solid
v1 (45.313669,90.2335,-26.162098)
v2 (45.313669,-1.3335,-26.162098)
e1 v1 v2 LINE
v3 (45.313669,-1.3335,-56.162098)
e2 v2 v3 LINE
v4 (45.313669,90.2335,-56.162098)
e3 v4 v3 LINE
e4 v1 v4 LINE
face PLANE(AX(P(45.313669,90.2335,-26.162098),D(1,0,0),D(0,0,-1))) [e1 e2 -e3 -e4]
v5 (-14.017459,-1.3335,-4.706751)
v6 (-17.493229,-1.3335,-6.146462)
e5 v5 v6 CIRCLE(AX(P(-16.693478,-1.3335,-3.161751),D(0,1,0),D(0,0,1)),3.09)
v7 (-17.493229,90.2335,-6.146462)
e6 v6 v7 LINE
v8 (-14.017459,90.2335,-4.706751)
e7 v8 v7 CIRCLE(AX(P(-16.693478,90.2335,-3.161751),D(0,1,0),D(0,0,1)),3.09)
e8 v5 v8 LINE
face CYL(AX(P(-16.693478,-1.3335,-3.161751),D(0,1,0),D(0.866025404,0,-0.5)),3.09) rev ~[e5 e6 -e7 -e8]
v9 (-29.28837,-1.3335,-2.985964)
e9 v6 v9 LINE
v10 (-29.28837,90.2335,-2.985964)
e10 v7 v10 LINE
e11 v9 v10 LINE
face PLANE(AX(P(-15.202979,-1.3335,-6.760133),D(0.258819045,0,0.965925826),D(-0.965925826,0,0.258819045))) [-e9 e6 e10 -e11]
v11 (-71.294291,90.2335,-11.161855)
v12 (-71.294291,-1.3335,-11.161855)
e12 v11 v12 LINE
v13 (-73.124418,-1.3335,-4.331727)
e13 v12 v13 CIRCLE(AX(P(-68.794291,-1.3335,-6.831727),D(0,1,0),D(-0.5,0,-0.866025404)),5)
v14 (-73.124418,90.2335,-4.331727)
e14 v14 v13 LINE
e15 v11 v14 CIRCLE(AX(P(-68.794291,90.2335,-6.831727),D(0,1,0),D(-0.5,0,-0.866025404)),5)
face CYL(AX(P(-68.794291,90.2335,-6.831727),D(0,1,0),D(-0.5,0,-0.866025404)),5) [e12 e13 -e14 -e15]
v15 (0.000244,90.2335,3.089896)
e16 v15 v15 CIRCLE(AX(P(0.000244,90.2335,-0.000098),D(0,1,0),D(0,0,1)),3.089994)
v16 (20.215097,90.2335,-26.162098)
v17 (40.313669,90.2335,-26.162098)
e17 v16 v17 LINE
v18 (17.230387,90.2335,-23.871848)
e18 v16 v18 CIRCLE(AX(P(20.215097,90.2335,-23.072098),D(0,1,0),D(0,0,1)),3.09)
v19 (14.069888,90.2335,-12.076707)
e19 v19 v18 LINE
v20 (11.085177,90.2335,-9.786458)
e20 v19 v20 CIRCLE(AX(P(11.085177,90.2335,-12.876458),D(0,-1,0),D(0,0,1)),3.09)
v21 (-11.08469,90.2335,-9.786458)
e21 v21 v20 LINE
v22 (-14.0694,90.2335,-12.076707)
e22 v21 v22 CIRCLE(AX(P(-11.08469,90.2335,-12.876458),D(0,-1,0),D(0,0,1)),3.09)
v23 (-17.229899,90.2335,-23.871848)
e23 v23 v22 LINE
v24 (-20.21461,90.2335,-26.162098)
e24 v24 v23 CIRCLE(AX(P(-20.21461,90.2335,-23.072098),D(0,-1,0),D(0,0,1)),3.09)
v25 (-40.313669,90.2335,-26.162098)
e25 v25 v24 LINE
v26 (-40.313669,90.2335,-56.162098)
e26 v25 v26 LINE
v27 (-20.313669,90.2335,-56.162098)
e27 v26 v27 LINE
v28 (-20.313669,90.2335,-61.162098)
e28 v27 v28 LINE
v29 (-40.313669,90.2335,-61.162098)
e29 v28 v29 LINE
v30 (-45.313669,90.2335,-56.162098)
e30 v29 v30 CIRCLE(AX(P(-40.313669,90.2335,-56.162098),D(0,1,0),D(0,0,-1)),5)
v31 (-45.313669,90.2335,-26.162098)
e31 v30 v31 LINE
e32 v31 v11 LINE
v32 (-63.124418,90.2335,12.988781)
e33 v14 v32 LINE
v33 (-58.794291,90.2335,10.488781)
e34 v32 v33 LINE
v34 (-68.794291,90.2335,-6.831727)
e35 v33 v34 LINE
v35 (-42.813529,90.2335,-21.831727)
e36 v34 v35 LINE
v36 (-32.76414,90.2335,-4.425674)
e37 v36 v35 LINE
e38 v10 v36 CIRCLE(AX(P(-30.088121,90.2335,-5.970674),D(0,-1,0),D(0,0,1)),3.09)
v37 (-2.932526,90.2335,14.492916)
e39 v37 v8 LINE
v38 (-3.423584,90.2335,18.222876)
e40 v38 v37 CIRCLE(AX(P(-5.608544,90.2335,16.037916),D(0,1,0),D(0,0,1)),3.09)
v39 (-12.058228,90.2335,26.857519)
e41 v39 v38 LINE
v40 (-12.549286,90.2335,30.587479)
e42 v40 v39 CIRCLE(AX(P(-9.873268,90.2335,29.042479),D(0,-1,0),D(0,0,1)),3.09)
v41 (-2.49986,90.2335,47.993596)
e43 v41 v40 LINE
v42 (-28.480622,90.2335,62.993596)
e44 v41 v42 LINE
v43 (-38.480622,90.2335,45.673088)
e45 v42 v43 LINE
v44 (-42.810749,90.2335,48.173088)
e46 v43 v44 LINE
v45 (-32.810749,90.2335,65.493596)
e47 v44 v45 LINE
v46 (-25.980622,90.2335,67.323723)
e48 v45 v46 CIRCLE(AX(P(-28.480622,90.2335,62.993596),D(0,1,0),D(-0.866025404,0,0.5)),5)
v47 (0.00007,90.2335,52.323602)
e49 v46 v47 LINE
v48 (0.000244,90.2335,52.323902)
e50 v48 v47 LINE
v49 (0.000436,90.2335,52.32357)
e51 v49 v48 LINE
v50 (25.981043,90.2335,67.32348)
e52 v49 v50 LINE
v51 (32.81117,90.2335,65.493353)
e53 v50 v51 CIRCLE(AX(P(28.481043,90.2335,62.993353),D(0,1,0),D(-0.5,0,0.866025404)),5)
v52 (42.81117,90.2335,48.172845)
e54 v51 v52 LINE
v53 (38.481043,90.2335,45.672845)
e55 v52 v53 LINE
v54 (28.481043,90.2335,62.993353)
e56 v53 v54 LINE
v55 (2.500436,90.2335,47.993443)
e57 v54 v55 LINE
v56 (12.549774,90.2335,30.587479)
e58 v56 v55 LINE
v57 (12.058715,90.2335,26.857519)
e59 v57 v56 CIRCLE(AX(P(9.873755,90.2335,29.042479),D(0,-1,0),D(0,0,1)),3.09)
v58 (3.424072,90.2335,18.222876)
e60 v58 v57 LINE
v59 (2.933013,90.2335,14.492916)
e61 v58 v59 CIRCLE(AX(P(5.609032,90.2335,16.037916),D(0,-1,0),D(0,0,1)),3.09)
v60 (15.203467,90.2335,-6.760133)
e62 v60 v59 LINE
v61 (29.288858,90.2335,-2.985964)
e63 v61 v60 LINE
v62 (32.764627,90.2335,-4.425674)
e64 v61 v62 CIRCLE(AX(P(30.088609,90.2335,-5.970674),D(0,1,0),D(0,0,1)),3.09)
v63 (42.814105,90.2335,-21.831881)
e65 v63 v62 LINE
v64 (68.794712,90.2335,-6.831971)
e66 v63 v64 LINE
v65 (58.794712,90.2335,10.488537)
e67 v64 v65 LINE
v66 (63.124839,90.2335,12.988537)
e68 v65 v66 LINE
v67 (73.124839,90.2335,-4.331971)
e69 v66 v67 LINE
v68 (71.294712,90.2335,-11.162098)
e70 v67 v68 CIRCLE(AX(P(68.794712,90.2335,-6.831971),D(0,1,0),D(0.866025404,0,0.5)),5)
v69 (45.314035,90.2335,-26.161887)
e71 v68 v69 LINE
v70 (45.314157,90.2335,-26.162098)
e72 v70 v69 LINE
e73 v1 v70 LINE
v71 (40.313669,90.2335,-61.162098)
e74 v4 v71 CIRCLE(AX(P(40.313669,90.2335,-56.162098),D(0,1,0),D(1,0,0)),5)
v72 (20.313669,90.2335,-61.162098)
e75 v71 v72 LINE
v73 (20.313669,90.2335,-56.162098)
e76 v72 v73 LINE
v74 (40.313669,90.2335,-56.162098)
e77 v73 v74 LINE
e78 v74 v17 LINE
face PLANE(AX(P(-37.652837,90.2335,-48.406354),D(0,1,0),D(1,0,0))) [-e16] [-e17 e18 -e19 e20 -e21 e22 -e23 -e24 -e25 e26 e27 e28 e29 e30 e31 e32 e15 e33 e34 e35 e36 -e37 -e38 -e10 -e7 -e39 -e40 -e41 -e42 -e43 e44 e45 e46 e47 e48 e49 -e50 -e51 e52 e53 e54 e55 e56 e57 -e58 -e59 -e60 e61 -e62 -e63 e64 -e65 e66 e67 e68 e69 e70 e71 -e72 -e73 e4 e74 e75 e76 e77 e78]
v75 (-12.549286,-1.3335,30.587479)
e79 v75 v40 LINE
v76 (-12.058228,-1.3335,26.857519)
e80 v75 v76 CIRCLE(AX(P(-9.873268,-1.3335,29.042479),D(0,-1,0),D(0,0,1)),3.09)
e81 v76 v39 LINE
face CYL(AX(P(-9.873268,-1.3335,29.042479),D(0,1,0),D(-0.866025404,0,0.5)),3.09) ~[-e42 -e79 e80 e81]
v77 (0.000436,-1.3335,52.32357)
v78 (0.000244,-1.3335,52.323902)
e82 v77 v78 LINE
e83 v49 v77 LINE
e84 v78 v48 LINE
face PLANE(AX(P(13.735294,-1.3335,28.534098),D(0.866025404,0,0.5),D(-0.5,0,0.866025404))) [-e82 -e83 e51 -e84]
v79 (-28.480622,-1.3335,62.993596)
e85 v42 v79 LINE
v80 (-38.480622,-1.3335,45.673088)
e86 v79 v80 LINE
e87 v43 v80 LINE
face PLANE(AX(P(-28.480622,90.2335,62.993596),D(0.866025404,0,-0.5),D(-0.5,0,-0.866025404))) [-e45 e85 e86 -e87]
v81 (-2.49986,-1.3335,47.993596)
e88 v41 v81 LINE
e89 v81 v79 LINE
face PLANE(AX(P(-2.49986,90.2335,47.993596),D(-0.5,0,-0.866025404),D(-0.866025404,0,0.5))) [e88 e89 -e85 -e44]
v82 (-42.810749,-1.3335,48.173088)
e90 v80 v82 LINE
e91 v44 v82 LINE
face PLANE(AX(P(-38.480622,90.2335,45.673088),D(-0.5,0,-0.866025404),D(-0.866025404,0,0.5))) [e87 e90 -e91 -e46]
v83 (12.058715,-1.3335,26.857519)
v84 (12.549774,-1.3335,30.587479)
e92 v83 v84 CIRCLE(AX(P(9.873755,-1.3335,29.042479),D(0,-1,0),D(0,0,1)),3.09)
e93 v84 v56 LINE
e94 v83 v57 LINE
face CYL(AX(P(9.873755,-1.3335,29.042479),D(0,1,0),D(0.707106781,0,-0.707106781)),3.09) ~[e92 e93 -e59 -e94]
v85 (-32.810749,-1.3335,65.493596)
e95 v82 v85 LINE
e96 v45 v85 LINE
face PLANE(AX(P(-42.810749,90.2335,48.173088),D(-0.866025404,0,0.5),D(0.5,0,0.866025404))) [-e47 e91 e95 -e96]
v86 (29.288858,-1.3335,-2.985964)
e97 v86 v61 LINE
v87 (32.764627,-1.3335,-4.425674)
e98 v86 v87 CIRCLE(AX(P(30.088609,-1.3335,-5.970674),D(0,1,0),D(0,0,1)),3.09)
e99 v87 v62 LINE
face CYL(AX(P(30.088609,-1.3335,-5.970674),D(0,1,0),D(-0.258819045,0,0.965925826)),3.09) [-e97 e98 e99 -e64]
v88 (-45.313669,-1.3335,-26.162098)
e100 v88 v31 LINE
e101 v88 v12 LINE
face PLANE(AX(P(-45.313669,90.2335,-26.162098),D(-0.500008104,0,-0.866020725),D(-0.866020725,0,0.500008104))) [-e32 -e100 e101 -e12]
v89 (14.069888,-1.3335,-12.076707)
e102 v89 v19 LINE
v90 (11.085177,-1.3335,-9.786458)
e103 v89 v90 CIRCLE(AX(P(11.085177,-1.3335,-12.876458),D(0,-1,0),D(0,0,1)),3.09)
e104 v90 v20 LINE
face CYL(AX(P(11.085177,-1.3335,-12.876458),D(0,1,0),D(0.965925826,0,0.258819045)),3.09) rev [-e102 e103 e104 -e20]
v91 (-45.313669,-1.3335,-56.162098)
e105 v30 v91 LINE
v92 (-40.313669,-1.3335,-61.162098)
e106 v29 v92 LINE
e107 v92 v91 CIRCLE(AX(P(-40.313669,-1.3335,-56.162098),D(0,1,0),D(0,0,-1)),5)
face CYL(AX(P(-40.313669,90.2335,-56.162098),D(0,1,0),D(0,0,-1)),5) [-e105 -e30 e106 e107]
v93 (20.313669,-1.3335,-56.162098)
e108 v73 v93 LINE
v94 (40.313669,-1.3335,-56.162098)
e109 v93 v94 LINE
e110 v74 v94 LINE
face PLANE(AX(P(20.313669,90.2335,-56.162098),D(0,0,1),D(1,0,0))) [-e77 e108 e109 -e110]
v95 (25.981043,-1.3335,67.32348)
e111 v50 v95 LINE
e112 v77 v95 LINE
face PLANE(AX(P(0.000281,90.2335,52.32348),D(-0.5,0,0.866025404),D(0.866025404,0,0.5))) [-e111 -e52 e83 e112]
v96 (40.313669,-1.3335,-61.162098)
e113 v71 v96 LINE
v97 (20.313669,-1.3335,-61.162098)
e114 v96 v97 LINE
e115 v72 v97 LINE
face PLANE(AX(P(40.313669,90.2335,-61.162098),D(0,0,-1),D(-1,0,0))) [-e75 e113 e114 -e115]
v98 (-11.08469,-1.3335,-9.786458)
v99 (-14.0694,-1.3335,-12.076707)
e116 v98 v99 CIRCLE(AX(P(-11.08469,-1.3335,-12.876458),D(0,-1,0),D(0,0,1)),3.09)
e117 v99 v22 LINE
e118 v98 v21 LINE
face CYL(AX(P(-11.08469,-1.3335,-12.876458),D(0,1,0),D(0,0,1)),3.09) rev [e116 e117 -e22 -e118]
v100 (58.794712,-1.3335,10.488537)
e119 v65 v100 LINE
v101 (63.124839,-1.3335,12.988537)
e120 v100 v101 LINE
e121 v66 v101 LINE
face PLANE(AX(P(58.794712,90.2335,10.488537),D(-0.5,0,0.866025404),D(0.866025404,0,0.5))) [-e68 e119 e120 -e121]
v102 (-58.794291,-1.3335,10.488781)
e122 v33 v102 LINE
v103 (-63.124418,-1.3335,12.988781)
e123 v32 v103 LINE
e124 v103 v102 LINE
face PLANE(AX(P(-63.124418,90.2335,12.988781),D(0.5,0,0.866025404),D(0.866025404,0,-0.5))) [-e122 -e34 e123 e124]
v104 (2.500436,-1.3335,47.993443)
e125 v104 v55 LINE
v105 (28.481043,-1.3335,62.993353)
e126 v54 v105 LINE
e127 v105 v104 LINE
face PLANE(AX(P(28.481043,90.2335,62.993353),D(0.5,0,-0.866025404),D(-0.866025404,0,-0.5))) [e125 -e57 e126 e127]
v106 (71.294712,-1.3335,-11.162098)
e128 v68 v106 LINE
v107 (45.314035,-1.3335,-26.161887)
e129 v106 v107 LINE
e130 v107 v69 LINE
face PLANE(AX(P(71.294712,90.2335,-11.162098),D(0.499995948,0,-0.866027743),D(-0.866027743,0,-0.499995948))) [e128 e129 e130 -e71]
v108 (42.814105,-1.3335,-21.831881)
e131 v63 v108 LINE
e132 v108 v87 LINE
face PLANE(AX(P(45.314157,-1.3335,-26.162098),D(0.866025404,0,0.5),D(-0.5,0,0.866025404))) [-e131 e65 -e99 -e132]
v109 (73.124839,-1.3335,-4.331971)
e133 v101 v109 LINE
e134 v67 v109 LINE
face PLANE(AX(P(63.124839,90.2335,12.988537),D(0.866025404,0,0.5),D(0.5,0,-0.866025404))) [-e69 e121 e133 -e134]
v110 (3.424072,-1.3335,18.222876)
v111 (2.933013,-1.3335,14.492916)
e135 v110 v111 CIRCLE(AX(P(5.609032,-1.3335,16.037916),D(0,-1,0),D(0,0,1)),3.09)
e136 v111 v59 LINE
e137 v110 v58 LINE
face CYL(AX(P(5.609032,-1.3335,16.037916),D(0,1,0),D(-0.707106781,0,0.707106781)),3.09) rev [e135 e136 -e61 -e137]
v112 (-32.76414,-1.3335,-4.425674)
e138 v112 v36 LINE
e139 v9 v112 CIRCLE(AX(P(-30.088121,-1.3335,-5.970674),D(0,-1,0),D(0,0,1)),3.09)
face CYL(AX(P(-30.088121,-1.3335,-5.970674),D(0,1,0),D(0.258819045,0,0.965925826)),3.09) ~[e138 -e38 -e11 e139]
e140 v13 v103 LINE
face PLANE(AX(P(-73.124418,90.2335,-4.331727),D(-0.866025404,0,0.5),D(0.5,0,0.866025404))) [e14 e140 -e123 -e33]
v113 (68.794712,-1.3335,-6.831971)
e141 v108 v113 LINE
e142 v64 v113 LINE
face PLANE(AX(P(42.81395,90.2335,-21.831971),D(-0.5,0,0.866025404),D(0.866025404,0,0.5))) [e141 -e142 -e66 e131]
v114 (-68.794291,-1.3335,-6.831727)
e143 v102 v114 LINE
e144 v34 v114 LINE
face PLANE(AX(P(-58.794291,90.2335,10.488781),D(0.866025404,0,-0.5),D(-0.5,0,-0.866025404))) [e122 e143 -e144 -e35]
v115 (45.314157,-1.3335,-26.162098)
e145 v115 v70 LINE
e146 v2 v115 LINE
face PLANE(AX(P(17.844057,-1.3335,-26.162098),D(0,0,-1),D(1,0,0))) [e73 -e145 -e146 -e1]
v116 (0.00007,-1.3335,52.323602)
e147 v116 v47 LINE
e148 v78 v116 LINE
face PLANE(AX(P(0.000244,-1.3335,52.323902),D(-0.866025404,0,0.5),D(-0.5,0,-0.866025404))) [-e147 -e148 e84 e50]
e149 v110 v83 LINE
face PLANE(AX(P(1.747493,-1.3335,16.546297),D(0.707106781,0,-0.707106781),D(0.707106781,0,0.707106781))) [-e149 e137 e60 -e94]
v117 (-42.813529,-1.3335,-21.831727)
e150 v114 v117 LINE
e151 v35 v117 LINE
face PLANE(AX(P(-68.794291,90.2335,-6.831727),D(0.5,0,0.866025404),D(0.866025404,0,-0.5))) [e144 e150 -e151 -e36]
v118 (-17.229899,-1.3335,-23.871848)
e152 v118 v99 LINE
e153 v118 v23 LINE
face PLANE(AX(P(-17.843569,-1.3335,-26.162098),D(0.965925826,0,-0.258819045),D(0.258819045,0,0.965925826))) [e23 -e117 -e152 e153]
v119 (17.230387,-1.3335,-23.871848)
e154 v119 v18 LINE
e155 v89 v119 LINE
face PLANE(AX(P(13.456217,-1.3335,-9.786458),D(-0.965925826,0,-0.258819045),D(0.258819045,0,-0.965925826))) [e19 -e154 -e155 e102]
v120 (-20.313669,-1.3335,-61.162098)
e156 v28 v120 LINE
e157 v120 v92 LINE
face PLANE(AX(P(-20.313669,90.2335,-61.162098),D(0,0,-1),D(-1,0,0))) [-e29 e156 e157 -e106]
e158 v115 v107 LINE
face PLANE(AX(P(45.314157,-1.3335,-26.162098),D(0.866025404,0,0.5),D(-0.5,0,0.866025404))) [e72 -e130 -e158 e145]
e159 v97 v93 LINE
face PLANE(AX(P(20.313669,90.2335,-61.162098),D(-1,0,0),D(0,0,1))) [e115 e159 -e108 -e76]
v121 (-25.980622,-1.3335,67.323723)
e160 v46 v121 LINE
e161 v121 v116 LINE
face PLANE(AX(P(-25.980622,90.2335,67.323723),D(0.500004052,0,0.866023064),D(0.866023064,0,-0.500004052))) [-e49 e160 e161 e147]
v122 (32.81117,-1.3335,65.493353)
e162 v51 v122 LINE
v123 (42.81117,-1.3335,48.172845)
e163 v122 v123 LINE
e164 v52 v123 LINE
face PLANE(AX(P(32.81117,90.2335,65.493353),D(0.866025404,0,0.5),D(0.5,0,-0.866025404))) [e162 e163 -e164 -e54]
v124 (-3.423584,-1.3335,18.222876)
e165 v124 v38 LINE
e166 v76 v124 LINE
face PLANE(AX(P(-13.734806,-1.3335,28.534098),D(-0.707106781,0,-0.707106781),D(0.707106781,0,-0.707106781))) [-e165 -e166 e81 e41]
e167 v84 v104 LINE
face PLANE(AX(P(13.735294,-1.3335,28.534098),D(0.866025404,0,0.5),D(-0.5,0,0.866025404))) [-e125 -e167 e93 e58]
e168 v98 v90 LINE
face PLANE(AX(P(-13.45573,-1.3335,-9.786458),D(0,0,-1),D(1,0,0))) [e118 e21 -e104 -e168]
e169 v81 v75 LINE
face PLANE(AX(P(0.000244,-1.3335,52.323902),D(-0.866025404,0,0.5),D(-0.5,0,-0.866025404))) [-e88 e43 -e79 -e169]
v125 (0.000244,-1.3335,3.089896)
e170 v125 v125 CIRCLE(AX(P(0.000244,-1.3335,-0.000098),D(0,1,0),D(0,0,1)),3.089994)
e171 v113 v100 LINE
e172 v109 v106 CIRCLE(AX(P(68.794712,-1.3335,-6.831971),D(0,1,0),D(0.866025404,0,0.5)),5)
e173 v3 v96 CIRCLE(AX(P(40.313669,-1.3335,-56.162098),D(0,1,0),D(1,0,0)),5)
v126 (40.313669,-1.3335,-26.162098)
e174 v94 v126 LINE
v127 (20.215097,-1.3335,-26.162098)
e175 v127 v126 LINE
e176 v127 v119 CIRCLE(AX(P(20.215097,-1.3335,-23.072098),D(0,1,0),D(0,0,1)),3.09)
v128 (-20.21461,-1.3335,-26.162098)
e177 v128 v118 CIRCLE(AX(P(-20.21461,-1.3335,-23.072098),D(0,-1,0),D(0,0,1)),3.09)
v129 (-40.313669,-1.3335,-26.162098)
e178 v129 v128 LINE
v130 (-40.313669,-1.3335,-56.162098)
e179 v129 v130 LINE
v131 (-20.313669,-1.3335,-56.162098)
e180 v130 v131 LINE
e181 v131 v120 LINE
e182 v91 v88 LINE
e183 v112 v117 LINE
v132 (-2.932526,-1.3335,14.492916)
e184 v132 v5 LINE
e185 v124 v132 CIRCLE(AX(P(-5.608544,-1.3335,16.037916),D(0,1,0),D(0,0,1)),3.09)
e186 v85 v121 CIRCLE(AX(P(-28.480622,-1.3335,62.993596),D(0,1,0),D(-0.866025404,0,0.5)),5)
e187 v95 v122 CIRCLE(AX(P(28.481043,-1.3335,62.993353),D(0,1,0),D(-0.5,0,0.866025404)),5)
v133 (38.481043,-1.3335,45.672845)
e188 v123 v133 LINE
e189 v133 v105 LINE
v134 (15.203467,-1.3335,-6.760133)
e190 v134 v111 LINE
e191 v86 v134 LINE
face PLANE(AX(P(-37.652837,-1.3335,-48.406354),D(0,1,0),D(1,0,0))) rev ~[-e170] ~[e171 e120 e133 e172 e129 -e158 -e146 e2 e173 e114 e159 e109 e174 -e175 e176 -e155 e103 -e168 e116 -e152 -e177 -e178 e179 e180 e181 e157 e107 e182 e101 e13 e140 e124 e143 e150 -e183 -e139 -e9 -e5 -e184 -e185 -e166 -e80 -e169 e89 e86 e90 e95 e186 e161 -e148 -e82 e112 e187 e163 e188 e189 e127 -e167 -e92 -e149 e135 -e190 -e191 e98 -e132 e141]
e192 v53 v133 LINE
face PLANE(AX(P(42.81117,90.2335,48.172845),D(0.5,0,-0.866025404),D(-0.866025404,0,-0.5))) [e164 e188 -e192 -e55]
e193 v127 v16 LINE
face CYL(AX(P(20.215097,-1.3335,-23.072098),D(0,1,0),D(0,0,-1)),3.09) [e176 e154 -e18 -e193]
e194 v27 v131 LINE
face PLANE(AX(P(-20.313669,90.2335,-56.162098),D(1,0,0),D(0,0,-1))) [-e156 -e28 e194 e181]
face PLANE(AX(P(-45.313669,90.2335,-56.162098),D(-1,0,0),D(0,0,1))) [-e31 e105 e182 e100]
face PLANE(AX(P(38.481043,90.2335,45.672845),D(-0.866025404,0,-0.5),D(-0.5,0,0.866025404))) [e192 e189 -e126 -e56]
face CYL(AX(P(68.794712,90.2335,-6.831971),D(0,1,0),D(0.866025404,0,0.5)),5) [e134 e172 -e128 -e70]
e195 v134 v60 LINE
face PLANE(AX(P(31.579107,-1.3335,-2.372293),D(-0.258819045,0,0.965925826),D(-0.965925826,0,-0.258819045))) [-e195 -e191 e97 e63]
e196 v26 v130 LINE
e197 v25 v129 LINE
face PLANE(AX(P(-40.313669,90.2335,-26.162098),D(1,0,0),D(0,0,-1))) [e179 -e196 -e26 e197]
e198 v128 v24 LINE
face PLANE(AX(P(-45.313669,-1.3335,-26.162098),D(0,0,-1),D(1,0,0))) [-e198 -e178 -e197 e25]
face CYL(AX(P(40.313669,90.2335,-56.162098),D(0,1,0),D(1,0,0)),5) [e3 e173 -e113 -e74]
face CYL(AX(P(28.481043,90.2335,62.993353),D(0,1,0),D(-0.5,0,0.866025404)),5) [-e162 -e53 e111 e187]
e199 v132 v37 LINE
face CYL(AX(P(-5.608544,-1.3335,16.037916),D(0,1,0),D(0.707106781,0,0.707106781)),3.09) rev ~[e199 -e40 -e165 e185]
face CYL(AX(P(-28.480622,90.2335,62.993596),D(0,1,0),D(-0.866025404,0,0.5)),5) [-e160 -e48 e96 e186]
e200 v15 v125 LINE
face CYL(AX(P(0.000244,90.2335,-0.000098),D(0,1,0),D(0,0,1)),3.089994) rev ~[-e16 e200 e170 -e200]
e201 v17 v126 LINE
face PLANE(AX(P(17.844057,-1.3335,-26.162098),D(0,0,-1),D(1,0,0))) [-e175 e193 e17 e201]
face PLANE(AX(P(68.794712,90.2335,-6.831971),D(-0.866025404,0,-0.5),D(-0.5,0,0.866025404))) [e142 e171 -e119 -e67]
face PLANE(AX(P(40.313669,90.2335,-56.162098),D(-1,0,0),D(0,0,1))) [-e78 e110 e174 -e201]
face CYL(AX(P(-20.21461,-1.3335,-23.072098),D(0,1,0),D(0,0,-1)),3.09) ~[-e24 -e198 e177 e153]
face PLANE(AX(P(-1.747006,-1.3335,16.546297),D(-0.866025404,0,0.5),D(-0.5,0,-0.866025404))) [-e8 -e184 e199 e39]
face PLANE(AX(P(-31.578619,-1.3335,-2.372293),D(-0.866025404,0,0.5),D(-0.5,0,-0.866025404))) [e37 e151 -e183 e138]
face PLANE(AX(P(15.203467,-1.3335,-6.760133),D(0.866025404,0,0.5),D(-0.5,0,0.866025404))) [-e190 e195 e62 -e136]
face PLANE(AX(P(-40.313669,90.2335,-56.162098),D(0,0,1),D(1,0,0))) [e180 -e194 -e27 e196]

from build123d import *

# Parameters (mm, degrees)
SALIENTE_EXTRUIR1_DEPTH = 88.9
CROQUIS4_R              = 2.999994
CORTAR_EXTRUIR1_DEPTH   = 112.44204772
REDONDEO6_R             = 3
REDONDEO7_R             = 3
ESCALA2_SCALE           = 1.03
SALIENTE_EXTRUIR2_DEPTH = 91.567


with BuildPart() as part:
    # Croquis1 → Saliente-Extruir1 (new body)
    with BuildSketch(Plane(origin=(0, 0, 0), x_dir=(1, 0, 0), z_dir=(0, 1, 0))):
        Polygon((1.696358741, -16.064461222), (13.335, -27.703102481), (0, -50.8), (-13.335, -27.703102481), (-1.696358741, -16.064461222), (-14.760410887, 6.563140847), (-30.659090512, 2.303102481), (-43.994090512, 25.4), (-17.324090512, 25.4), (-13.064052146, 9.501320374), (13.064052146, 9.501320374), (17.324090512, 25.4), (43.994090512, 25.4), (30.659090512, 2.303102481), (14.760410887, 6.563140847), align=None)
    extrude(amount=SALIENTE_EXTRUIR1_DEPTH)

    # Croquis4 → Cortar-Extruir1 (cut, through all)
    with BuildSketch(Plane(origin=(0, 88.9, 0), x_dir=(1, 0, 0), z_dir=(0, 1, 0))):
        with Locations(Location((0, 0, 0), (0, 0, 270))):
            Circle(CROQUIS4_R)
    extrude(amount=-CORTAR_EXTRUIR1_DEPTH, mode=Mode.SUBTRACT)

    # Redondeo6
    redondeo6_edges = [part.edges().sort_by_distance(p)[0] for p in [
        (-1.696358741, 44.45, 16.064461222),
        (-14.760410887, 44.45, -6.563140847),
        (-13.064052146, 44.45, -9.501320374),
        (13.064052146, 44.45, -9.501320374),
        (1.696358741, 44.45, 16.064461222),
    ]]
    fillet(redondeo6_edges, radius=REDONDEO6_R)

    # Redondeo7
    redondeo7_edges = [part.edges().sort_by_distance(p)[0] for p in [
        (-13.335, 44.45, 27.703102481),
        (-30.659090512, 44.45, -2.303102481),
        (-17.324090512, 44.45, -25.4),
        (17.324090512, 44.45, -25.4),
        (30.659090512, 44.45, -2.303102481),
        (13.335, 44.45, 27.703102481),
    ]]
    fillet(redondeo7_edges, radius=REDONDEO7_R)


with BuildPart() as part_1:
    # Escala2: scaled about (-0.008124988, 44.45, 0.003254237)
    add(part.part.scale(ESCALA2_SCALE).moved(Location((0.00024375, -1.3335, -9.7627e-05))))

    # Croquis17 → Saliente-Extruir2 (add, through all)
    with BuildSketch(Plane(origin=(0, 90.2335, 0), x_dir=(1, 0, 0), z_dir=(0, 1, 0))):
        with BuildLine():
            Line((-45.313669478, 56.162097627), (-45.313669478, 26.162097627))
            Line((-45.313669478, 26.162097627), (-40.313669478, 26.162097627))
            Line((-40.313669478, 26.162097627), (-40.313669478, 56.162097627))
            Line((-40.313669478, 56.162097627), (-20.313669478, 56.162097627))
            Line((-20.313669478, 56.162097627), (-20.313669478, 61.162097627))
            Line((-20.313669478, 61.162097627), (-40.313669478, 61.162097627))
            ThreePointArc((-40.313669478, 61.162097627), (-43.849203384, 59.697631533), (-45.313669478, 56.162097627))
        make_face()
        with BuildLine():
            Line((-42.813529111, 21.831727485), (-45.313669478, 26.162097627))
            Line((-45.313669478, 26.162097627), (-71.294291224, 11.161854504))
            ThreePointArc((-71.294291224, 11.161854504), (-73.623920356, 8.125822711), (-73.124418243, 4.331727485))
            Line((-73.124418243, 4.331727485), (-63.124418243, -12.988780591))
            Line((-63.124418243, -12.988780591), (-58.794291224, -10.488780591))
            Line((-58.794291224, -10.488780591), (-68.794291224, 6.831727485))
            Line((-68.794291224, 6.831727485), (-42.813529111, 21.831727485))
        make_face()
        with BuildLine():
            Line((20.313669478, 56.162097627), (40.313669478, 56.162097627))
            Line((40.313669478, 56.162097627), (40.313669478, 26.162097627))
            Line((40.313669478, 26.162097627), (45.313669478, 26.162097627))
            Line((45.313669478, 26.162097627), (45.313669478, 56.162097627))
            ThreePointArc((45.313669478, 56.162097627), (43.849203384, 59.697631533), (40.313669478, 61.162097627))
            Line((40.313669478, 61.162097627), (20.313669478, 61.162097627))
            Line((20.313669478, 61.162097627), (20.313669478, 56.162097627))
        make_face()
        with BuildLine():
            Line((71.294712326, 11.162097627), (45.313669478, 26.162097627))
            Line((45.313669478, 26.162097627), (42.813950212, 21.831970608))
            Line((42.813950212, 21.831970608), (68.794712326, 6.831970608))
            Line((68.794712326, 6.831970608), (58.794712326, -10.488537468))
            Line((58.794712326, -10.488537468), (63.124839345, -12.988537468))
            Line((63.124839345, -12.988537468), (73.124839345, 4.331970608))
            ThreePointArc((73.124839345, 4.331970608), (73.624341457, 8.126065834), (71.294712326, 11.162097627))
        make_face()
        with BuildLine():
            Line((38.481042848, -45.672845092), (28.481042848, -62.993353167))
            Line((28.481042848, -62.993353167), (2.500280734, -47.993353167))
            Line((2.500280734, -47.993353167), (0.000280734, -52.323480186))
            Line((0.000280734, -52.323480186), (25.981042848, -67.323480186))
            ThreePointArc((25.981042848, -67.323480186), (29.775138073, -67.822982299), (32.811169867, -65.493353167))
            Line((32.811169867, -65.493353167), (42.811169867, -48.172845092))
            Line((42.811169867, -48.172845092), (38.481042848, -45.672845092))
        make_face()
        with BuildLine():
            Line((-25.980621746, -67.323723309), (0.000280734, -52.323480186))
            Line((0.000280734, -52.323480186), (-2.499859633, -47.99359629))
            Line((-2.499859633, -47.99359629), (-28.480621746, -62.99359629))
            Line((-28.480621746, -62.99359629), (-38.480621746, -45.673088215))
            Line((-38.480621746, -45.673088215), (-42.810748765, -48.173088215))
            Line((-42.810748765, -48.173088215), (-32.810748765, -65.49359629))
            ThreePointArc((-32.810748765, -65.49359629), (-29.774716972, -67.823225422), (-25.980621746, -67.323723309))
        make_face()
    extrude(amount=-SALIENTE_EXTRUIR2_DEPTH)


solid = part_1.part
